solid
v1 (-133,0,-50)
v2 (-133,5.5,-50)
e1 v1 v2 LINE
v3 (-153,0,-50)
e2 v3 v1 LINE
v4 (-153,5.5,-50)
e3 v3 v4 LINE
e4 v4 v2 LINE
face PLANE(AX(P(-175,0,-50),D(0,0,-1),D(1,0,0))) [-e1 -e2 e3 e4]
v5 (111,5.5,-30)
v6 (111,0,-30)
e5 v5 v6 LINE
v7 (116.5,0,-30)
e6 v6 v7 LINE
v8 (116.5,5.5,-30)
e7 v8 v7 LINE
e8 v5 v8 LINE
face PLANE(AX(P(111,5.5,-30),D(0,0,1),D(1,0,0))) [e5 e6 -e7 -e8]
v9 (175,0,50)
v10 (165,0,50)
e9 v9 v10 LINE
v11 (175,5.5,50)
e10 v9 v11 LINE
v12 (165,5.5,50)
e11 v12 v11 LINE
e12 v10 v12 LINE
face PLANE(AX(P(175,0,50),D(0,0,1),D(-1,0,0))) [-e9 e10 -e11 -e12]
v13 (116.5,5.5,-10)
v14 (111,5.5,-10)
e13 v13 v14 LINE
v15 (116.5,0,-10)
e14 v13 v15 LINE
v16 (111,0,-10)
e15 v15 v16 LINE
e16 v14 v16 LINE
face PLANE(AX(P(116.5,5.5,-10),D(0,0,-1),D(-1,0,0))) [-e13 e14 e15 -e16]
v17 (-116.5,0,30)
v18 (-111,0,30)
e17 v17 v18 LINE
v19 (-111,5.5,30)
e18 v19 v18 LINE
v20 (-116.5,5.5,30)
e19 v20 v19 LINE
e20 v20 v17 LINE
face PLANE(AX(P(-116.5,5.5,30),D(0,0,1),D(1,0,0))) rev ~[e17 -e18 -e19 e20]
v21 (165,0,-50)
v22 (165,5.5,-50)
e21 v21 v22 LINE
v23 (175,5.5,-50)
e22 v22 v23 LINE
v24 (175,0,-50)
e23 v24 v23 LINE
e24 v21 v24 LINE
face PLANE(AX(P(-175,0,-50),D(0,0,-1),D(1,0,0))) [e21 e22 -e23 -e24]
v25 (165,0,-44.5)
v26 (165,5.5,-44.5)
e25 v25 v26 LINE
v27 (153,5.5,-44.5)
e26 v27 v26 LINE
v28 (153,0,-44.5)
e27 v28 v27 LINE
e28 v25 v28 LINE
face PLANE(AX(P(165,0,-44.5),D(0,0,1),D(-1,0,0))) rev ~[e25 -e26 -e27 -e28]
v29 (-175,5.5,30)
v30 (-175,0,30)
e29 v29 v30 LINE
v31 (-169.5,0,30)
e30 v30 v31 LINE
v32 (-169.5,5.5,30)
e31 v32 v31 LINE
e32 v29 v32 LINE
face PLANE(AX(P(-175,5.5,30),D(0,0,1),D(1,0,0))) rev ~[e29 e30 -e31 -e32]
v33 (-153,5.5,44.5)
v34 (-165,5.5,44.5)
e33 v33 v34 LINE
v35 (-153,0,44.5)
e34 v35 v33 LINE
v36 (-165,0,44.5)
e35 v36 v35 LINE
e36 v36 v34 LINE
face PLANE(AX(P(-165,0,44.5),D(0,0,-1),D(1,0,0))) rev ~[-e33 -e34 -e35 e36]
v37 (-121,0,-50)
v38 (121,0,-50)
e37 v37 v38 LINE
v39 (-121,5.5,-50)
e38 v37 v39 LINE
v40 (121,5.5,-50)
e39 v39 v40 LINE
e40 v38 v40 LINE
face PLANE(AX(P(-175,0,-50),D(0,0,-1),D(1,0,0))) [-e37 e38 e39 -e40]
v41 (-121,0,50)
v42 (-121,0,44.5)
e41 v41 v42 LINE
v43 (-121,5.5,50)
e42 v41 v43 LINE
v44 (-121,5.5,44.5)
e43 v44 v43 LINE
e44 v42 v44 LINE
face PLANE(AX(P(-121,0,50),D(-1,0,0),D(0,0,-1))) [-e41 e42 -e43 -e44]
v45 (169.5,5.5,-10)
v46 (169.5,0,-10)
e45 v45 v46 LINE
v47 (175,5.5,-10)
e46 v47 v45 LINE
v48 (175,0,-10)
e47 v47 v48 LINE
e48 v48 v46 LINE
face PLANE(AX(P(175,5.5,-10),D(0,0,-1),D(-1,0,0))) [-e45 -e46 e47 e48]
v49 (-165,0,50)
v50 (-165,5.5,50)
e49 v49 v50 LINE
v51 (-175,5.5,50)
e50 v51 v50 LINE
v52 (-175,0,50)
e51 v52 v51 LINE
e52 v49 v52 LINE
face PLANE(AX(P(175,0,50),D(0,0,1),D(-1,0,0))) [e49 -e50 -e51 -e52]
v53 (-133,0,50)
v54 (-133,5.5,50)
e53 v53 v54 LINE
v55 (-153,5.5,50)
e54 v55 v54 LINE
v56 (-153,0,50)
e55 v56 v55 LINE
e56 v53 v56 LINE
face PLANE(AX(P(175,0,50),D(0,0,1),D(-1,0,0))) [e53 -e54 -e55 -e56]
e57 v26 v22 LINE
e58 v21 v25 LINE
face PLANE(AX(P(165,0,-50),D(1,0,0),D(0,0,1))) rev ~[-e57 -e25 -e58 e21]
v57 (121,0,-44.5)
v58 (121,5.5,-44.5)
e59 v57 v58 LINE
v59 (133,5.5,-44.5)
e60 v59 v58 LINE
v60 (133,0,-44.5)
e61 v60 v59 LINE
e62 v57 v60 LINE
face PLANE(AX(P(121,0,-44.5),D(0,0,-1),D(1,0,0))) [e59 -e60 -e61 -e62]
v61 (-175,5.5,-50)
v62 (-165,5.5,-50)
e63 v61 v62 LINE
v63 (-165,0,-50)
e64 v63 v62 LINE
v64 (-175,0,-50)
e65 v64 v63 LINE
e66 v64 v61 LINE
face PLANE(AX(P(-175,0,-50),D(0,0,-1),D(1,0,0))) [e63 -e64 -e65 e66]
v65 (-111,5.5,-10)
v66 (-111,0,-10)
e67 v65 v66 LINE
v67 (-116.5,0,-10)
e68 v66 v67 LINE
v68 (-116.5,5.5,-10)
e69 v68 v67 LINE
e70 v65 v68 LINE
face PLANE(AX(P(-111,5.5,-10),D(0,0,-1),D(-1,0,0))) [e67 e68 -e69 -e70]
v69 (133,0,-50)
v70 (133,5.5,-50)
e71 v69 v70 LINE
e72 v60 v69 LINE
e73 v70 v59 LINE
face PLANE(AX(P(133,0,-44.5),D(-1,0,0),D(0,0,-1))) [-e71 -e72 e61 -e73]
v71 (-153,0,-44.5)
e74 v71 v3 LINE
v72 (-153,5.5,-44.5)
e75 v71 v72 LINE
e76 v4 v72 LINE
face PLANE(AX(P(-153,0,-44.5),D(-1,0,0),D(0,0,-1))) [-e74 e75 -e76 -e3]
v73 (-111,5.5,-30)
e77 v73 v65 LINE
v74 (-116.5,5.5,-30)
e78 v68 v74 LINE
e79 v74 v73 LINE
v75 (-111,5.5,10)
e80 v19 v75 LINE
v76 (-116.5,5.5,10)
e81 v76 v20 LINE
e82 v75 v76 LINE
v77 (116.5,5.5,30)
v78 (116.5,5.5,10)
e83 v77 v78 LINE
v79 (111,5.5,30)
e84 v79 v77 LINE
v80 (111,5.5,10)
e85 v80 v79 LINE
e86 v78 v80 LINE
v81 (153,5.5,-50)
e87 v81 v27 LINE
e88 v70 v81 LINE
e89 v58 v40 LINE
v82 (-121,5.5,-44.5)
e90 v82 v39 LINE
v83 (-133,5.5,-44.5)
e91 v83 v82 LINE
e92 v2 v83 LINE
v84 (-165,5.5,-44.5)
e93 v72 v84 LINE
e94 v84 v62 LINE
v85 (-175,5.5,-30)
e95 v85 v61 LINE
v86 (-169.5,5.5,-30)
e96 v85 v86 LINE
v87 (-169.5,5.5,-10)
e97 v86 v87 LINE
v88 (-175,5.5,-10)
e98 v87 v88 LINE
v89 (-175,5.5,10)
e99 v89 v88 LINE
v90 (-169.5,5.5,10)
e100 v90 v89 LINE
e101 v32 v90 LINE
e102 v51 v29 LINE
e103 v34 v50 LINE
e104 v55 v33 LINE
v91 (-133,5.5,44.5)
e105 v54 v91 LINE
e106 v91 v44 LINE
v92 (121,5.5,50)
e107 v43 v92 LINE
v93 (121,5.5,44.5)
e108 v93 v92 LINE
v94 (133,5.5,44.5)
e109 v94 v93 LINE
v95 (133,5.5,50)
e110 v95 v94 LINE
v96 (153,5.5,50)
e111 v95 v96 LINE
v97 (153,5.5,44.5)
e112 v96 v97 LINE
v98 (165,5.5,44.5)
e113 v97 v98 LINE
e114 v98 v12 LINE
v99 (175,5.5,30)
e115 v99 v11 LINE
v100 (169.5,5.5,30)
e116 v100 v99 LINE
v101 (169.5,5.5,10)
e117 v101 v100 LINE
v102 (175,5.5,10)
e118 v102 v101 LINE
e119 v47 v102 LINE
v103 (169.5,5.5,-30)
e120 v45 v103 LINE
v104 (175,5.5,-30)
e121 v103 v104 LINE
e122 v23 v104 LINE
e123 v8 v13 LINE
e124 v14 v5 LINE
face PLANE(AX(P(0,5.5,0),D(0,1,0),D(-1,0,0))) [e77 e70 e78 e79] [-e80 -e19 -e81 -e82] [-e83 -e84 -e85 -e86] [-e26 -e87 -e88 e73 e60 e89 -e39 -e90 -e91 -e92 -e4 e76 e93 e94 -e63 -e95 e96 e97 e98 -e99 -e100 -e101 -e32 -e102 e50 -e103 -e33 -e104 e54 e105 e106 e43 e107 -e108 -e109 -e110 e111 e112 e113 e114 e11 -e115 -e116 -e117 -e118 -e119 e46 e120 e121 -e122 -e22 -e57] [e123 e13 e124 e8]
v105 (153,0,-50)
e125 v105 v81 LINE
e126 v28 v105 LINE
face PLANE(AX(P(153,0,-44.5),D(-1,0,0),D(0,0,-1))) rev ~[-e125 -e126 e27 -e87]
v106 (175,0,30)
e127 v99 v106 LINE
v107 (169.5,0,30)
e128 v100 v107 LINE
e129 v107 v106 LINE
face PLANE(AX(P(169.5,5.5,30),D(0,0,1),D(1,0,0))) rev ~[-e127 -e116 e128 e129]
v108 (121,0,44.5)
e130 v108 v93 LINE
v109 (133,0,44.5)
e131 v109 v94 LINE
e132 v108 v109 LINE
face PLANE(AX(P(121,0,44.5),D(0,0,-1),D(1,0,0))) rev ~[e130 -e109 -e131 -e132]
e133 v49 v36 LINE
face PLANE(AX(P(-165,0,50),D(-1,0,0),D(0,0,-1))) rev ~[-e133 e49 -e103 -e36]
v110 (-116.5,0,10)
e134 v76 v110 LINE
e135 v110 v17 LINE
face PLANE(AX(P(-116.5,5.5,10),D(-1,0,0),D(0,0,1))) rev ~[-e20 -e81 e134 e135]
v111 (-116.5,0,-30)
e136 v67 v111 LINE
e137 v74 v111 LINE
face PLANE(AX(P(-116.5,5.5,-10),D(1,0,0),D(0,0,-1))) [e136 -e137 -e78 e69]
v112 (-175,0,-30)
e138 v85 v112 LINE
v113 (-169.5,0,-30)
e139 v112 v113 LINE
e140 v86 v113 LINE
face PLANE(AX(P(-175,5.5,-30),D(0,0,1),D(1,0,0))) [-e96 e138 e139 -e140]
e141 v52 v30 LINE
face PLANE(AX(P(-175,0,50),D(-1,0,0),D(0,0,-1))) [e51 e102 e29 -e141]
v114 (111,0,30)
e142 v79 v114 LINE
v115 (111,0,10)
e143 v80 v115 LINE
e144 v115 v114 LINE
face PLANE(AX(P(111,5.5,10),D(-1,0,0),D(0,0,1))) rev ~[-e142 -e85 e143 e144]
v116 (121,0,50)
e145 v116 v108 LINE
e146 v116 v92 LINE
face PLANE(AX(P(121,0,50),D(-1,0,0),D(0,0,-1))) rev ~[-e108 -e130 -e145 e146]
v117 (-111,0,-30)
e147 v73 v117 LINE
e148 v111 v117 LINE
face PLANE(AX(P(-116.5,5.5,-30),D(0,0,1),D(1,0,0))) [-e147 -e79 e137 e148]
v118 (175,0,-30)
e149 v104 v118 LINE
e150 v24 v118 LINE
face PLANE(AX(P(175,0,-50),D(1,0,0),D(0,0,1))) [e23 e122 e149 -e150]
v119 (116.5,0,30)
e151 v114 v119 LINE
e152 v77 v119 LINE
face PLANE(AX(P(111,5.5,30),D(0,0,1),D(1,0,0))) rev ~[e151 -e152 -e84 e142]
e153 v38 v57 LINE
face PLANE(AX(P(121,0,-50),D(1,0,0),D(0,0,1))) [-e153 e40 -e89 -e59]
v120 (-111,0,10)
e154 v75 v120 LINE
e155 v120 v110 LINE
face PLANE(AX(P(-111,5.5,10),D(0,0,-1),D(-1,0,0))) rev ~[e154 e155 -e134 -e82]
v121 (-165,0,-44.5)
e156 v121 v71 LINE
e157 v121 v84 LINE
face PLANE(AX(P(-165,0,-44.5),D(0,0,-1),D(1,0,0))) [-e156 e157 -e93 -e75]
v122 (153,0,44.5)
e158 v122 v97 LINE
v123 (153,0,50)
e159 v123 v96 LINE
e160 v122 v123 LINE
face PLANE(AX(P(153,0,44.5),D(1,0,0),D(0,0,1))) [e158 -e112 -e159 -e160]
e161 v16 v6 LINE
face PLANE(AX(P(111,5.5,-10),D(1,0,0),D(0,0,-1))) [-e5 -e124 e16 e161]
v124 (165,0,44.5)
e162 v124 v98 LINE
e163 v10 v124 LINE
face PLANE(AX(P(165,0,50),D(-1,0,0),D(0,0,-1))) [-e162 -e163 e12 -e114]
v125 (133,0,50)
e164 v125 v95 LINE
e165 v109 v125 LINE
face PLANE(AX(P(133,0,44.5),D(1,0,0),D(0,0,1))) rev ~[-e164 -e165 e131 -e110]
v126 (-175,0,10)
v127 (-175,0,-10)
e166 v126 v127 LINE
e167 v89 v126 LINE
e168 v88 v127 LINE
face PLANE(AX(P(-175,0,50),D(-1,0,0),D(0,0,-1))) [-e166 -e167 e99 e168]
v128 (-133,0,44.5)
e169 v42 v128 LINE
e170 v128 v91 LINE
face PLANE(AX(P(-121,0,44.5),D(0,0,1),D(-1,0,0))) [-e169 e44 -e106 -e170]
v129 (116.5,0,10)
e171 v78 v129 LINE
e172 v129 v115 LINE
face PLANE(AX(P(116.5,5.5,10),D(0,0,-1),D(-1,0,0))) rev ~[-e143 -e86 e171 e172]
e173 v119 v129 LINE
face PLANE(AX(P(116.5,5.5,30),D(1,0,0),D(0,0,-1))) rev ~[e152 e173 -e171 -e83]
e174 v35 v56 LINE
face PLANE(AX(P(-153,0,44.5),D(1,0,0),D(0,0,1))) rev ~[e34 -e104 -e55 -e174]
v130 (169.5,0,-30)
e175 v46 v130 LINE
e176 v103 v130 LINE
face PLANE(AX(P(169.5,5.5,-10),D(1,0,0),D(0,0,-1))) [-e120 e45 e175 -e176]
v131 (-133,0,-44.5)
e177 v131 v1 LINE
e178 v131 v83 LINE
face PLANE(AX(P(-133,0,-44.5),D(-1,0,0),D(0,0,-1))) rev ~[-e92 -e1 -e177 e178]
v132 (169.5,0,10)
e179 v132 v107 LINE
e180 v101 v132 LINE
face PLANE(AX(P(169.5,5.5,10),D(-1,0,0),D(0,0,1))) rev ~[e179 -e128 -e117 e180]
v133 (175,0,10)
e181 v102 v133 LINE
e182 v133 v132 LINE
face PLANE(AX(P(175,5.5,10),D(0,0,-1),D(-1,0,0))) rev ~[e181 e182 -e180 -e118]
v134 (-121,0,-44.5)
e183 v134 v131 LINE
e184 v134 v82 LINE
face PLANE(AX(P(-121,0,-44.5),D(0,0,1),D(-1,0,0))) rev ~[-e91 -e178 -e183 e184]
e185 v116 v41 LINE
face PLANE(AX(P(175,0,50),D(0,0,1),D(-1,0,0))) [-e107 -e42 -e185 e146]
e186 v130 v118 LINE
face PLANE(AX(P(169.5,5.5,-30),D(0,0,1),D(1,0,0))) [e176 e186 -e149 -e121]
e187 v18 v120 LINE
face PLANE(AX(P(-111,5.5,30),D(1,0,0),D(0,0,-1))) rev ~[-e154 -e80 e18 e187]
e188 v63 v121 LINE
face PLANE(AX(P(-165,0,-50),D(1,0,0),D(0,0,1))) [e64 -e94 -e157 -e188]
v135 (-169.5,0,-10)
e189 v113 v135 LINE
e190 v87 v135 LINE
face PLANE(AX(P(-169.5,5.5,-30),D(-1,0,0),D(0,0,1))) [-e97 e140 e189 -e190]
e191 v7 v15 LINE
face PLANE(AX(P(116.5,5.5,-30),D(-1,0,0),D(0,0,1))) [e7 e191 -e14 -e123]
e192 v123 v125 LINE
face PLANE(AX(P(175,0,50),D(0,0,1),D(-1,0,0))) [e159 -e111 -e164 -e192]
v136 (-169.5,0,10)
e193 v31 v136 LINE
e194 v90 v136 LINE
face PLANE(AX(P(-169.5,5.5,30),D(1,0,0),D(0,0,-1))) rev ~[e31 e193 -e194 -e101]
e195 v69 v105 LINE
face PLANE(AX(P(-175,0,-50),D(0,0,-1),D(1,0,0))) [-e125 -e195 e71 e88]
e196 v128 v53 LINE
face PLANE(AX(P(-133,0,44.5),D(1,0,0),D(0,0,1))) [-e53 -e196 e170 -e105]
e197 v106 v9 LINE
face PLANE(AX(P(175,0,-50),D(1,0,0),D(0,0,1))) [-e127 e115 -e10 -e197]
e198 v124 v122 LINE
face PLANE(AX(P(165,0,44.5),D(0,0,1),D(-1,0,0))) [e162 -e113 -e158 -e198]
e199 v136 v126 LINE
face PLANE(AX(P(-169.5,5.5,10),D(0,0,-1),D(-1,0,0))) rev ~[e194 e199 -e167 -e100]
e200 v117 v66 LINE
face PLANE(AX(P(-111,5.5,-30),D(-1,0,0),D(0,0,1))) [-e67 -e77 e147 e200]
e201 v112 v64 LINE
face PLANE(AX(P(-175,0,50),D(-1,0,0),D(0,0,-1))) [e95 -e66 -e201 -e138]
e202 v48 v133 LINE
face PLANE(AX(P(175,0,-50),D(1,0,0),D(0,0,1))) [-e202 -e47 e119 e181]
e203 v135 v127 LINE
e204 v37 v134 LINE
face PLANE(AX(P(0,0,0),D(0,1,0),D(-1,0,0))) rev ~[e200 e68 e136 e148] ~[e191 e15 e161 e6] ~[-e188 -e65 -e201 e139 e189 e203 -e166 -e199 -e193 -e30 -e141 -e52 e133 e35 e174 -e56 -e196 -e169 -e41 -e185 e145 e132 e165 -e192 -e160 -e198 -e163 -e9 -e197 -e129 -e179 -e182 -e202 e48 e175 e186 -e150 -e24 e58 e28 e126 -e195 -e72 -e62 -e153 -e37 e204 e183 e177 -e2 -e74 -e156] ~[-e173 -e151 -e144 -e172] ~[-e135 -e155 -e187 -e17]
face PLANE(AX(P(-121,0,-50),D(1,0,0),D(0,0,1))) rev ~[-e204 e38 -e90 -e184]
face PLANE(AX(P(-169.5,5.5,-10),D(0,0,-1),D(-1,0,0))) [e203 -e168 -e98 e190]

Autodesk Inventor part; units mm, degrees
ref_plane "YZ Plane" through (0, 0, 0) normal (1, 0, 0) x (0, 1, 0)
ref_plane "XZ Plane" through (0, 0, 0) normal (0, 1, 0) x (-1, 0, 0)
ref_plane "XY Plane" through (0, 0, 0) normal (0, 0, 1) x (1, 0, 0)
sketch "Block1" plane through (0, 0, 0) normal (0, 0, 1) x (1, 0, 0)
  line L0 (-117.6, 50.1) -> (117.6, 50.1)
  line L1 (117.6, 50.1) -> (117.6, 41.1)
  line L2 (117.6, 41.1) -> (129.4, 41.1)
  line L3 (129.4, 41.1) -> (129.4, 50.1)
  line L4 (129.4, 50.1) -> (149.6, 50.1)
  line L5 (149.6, 50.1) -> (149.6, 41.1)
  line L6 (149.6, 41.1) -> (161.4, 41.1)
  line L7 (161.4, 41.1) -> (161.4, 50.1)
  line L8 (161.4, 50.1) -> (175.1, 50.1)
  line L9 (175.1, 50.1) -> (175.1, 29.9)
  line L10 (175.1, 29.9) -> (166.1, 29.9)
  line L11 (166.1, 29.9) -> (166.1, 10.1)
  line L12 (166.1, 10.1) -> (175.1, 10.1)
  line L13 (175.1, 10.1) -> (175.1, -10.1)
  line L14 (175.1, -10.1) -> (166.1, -10.1)
  line L15 (166.1, -10.1) -> (166.1, -29.9)
  line L16 (166.1, -29.9) -> (175.1, -29.9)
  line L17 (175.1, -29.9) -> (175.1, -50.1)
  line L18 (175.1, -50.1) -> (161.4, -50.1)
  line L19 (161.4, -50.1) -> (161.4, -41.1)
  line L20 (161.4, -41.1) -> (149.6, -41.1)
  line L21 (149.6, -41.1) -> (149.6, -50.1)
  line L22 (149.6, -50.1) -> (129.4, -50.1)
  line L23 (129.4, -50.1) -> (129.4, -41.1)
  line L24 (129.4, -41.1) -> (117.6, -41.1)
  line L25 (117.6, -41.1) -> (117.6, -50.1)
  line L26 (117.6, -50.1) -> (-117.6, -50.1)
  line L27 (-117.6, -50.1) -> (-117.6, -41.1)
  line L28 (-117.6, -41.1) -> (-129.4, -41.1)
  line L29 (-129.4, -41.1) -> (-129.4, -50.1)
  line L30 (-129.4, -50.1) -> (-149.6, -50.1)
  line L31 (-149.6, -50.1) -> (-149.6, -41.1)
  line L32 (-149.6, -41.1) -> (-161.4, -41.1)
  line L33 (-161.4, -41.1) -> (-161.4, -50.1)
  line L34 (-161.4, -50.1) -> (-175.1, -50.1)
  line L35 (-175.1, -50.1) -> (-175.1, -29.9)
  line L36 (-175.1, -29.9) -> (-166.1, -29.9)
  line L37 (-166.1, -29.9) -> (-166.1, -10.1)
  line L38 (-166.1, -10.1) -> (-175.1, -10.1)
  line L39 (-175.1, -10.1) -> (-175.1, 10.1)
  line L40 (-175.1, 10.1) -> (-166.1, 10.1)
  line L41 (-166.1, 10.1) -> (-166.1, 29.9)
  line L42 (-166.1, 29.9) -> (-175.1, 29.9)
  line L43 (-175.1, 29.9) -> (-175.1, 50.1)
  line L44 (-175.1, 50.1) -> (-161.4, 50.1)
  line L45 (-161.4, 50.1) -> (-161.4, 41.1)
  line L46 (-161.4, 41.1) -> (-149.6, 41.1)
  line L47 (-149.6, 41.1) -> (-149.6, 50.1)
  line L48 (-149.6, 50.1) -> (-129.4, 50.1)
  line L49 (-129.4, 50.1) -> (-129.4, 41.1)
  line L50 (-129.4, 41.1) -> (-117.6, 41.1)
  line L51 (-117.6, 41.1) -> (-117.6, 50.1)
  line L52 (-103.9, 30.1) -> (-103.9, 9.9)
  line L53 (-103.9, 9.9) -> (-113.1, 9.9)
  line L54 (-113.1, 9.9) -> (-113.1, 30.1)
  line L55 (-113.1, 30.1) -> (-103.9, 30.1)
  line L56 (-103.9, -9.9) -> (-113.1, -9.9)
  line L57 (-113.1, -9.9) -> (-113.1, -30.1)
  line L58 (-113.1, -30.1) -> (-103.9, -30.1)
  line L59 (-103.9, -30.1) -> (-103.9, -9.9)
  line L60 (113.1, 30.1) -> (113.1, 9.9)
  line L61 (113.1, 9.9) -> (103.9, 9.9)
  line L62 (103.9, 9.9) -> (103.9, 30.1)
  line L63 (103.9, 30.1) -> (113.1, 30.1)
  line L64 (113.1, -9.9) -> (103.9, -9.9)
  line L65 (103.9, -9.9) -> (103.9, -30.1)
  line L66 (103.9, -30.1) -> (113.1, -30.1)
  line L67 (113.1, -30.1) -> (113.1, -9.9)
  point P0 (0, 0)
sketch "Block2" plane through (0, 0, 0) normal (0, 0, 1) x (1, 0, 0)
  line L0 (-117.7, 50.2) -> (117.7, 50.2)
  line L1 (117.7, 50.2) -> (117.7, 41.2)
  line L2 (117.7, 41.2) -> (129.3, 41.2)
  line L3 (129.3, 41.2) -> (129.3, 50.2)
  line L4 (129.3, 50.2) -> (149.7, 50.2)
  line L5 (149.7, 50.2) -> (149.7, 41.2)
  line L6 (149.7, 41.2) -> (161.3, 41.2)
  line L7 (161.3, 41.2) -> (161.3, 50.2)
  line L8 (161.3, 50.2) -> (175.2, 50.2)
  line L9 (175.2, 50.2) -> (175.2, 29.8)
  line L10 (175.2, 29.8) -> (166.2, 29.8)
  line L11 (166.2, 29.8) -> (166.2, 10.2)
  line L12 (166.2, 10.2) -> (175.2, 10.2)
  line L13 (175.2, 10.2) -> (175.2, -10.2)
  line L14 (175.2, -10.2) -> (166.2, -10.2)
  line L15 (166.2, -10.2) -> (166.2, -29.8)
  line L16 (166.2, -29.8) -> (175.2, -29.8)
  line L17 (175.2, -29.8) -> (175.2, -50.2)
  line L18 (175.2, -50.2) -> (161.3, -50.2)
  line L19 (161.3, -50.2) -> (161.3, -41.2)
  line L20 (161.3, -41.2) -> (149.7, -41.2)
  line L21 (149.7, -41.2) -> (149.7, -50.2)
  line L22 (149.7, -50.2) -> (129.3, -50.2)
  line L23 (129.3, -50.2) -> (129.3, -41.2)
  line L24 (129.3, -41.2) -> (117.7, -41.2)
  line L25 (117.7, -41.2) -> (117.7, -50.2)
  line L26 (117.7, -50.2) -> (-117.7, -50.2)
  line L27 (-117.7, -50.2) -> (-117.7, -41.2)
  line L28 (-117.7, -41.2) -> (-129.3, -41.2)
  line L29 (-129.3, -41.2) -> (-129.3, -50.2)
  line L30 (-129.3, -50.2) -> (-149.7, -50.2)
  line L31 (-149.7, -50.2) -> (-149.7, -41.2)
  line L32 (-149.7, -41.2) -> (-161.3, -41.2)
  line L33 (-161.3, -41.2) -> (-161.3, -50.2)
  line L34 (-161.3, -50.2) -> (-175.2, -50.2)
  line L35 (-175.2, -50.2) -> (-175.2, -29.8)
  line L36 (-175.2, -29.8) -> (-166.2, -29.8)
  line L37 (-166.2, -29.8) -> (-166.2, -10.2)
  line L38 (-166.2, -10.2) -> (-175.2, -10.2)
  line L39 (-175.2, -10.2) -> (-175.2, 10.2)
  line L40 (-175.2, 10.2) -> (-166.2, 10.2)
  line L41 (-166.2, 10.2) -> (-166.2, 29.8)
  line L42 (-166.2, 29.8) -> (-175.2, 29.8)
  line L43 (-175.2, 29.8) -> (-175.2, 50.2)
  line L44 (-175.2, 50.2) -> (-161.3, 50.2)
  line L45 (-161.3, 50.2) -> (-161.3, 41.2)
  line L46 (-161.3, 41.2) -> (-149.7, 41.2)
  line L47 (-149.7, 41.2) -> (-149.7, 50.2)
  line L48 (-149.7, 50.2) -> (-129.3, 50.2)
  line L49 (-129.3, 50.2) -> (-129.3, 41.2)
  line L50 (-129.3, 41.2) -> (-117.7, 41.2)
  line L51 (-117.7, 41.2) -> (-117.7, 50.2)
  line L52 (-103.8, 30.2) -> (-103.8, 9.8)
  line L53 (-103.8, 9.8) -> (-113.2, 9.8)
  line L54 (-113.2, 9.8) -> (-113.2, 30.2)
  line L55 (-113.2, 30.2) -> (-103.8, 30.2)
  line L56 (-103.8, -9.8) -> (-113.2, -9.8)
  line L57 (-113.2, -9.8) -> (-113.2, -30.2)
  line L58 (-113.2, -30.2) -> (-103.8, -30.2)
  line L59 (-103.8, -30.2) -> (-103.8, -9.8)
  line L60 (113.2, 30.2) -> (113.2, 9.8)
  line L61 (113.2, 9.8) -> (103.8, 9.8)
  line L62 (103.8, 9.8) -> (103.8, 30.2)
  line L63 (103.8, 30.2) -> (113.2, 30.2)
  line L64 (113.2, -9.8) -> (103.8, -9.8)
  line L65 (103.8, -9.8) -> (103.8, -30.2)
  line L66 (103.8, -30.2) -> (113.2, -30.2)
  line L67 (113.2, -30.2) -> (113.2, -9.8)
  point P0 (0, 0)
sketch "Block3" plane through (0, 0, 0) normal (0, 0, 1) x (1, 0, 0)
  line L0 (-117.6, 50.1) -> (117.6, 50.1)
  line L1 (117.6, 50.1) -> (117.6, 41.1)
  line L2 (117.6, 41.1) -> (129.4, 41.1)
  line L3 (129.4, 41.1) -> (129.4, 50.1)
  line L4 (129.4, 50.1) -> (149.6, 50.1)
  line L5 (149.6, 50.1) -> (149.6, 41.1)
  line L6 (149.6, 41.1) -> (161.4, 41.1)
  line L7 (161.4, 41.1) -> (161.4, 50.1)
  line L8 (161.4, 50.1) -> (175.1, 50.1)
  line L9 (175.1, 50.1) -> (175.1, 29.9)
  line L10 (175.1, 29.9) -> (166.1, 29.9)
  line L11 (166.1, 29.9) -> (166.1, 10.1)
  line L12 (166.1, 10.1) -> (175.1, 10.1)
  line L13 (175.1, 10.1) -> (175.1, -10.1)
  line L14 (175.1, -10.1) -> (166.1, -10.1)
  line L15 (166.1, -10.1) -> (166.1, -29.9)
  line L16 (166.1, -29.9) -> (175.1, -29.9)
  line L17 (175.1, -29.9) -> (175.1, -50.1)
  line L18 (175.1, -50.1) -> (161.4, -50.1)
  line L19 (161.4, -50.1) -> (161.4, -41.1)
  line L20 (161.4, -41.1) -> (149.6, -41.1)
  line L21 (149.6, -41.1) -> (149.6, -50.1)
  line L22 (149.6, -50.1) -> (129.4, -50.1)
  line L23 (129.4, -50.1) -> (129.4, -41.1)
  line L24 (129.4, -41.1) -> (117.6, -41.1)
  line L25 (117.6, -41.1) -> (117.6, -50.1)
  line L26 (117.6, -50.1) -> (-117.6, -50.1)
  line L27 (-117.6, -50.1) -> (-117.6, -41.1)
  line L28 (-117.6, -41.1) -> (-129.4, -41.1)
  line L29 (-129.4, -41.1) -> (-129.4, -50.1)
  line L30 (-129.4, -50.1) -> (-149.6, -50.1)
  line L31 (-149.6, -50.1) -> (-149.6, -41.1)
  line L32 (-149.6, -41.1) -> (-161.4, -41.1)
  line L33 (-161.4, -41.1) -> (-161.4, -50.1)
  line L34 (-161.4, -50.1) -> (-175.1, -50.1)
  line L35 (-175.1, -50.1) -> (-175.1, -29.9)
  line L36 (-175.1, -29.9) -> (-166.1, -29.9)
  line L37 (-166.1, -29.9) -> (-166.1, -10.1)
  line L38 (-166.1, -10.1) -> (-175.1, -10.1)
  line L39 (-175.1, -10.1) -> (-175.1, 10.1)
  line L40 (-175.1, 10.1) -> (-166.1, 10.1)
  line L41 (-166.1, 10.1) -> (-166.1, 29.9)
  line L42 (-166.1, 29.9) -> (-175.1, 29.9)
  line L43 (-175.1, 29.9) -> (-175.1, 50.1)
  line L44 (-175.1, 50.1) -> (-161.4, 50.1)
  line L45 (-161.4, 50.1) -> (-161.4, 41.1)
  line L46 (-161.4, 41.1) -> (-149.6, 41.1)
  line L47 (-149.6, 41.1) -> (-149.6, 50.1)
  line L48 (-149.6, 50.1) -> (-129.4, 50.1)
  line L49 (-129.4, 50.1) -> (-129.4, 41.1)
  line L50 (-129.4, 41.1) -> (-117.6, 41.1)
  line L51 (-117.6, 41.1) -> (-117.6, 50.1)
  line L52 (-103.9, 30.1) -> (-103.9, 9.9)
  line L53 (-103.9, 9.9) -> (-113.1, 9.9)
  line L54 (-113.1, 9.9) -> (-113.1, 30.1)
  line L55 (-113.1, 30.1) -> (-103.9, 30.1)
  line L56 (-103.9, -9.9) -> (-113.1, -9.9)
  line L57 (-113.1, -9.9) -> (-113.1, -30.1)
  line L58 (-113.1, -30.1) -> (-103.9, -30.1)
  line L59 (-103.9, -30.1) -> (-103.9, -9.9)
  line L60 (113.1, 30.1) -> (113.1, 9.9)
  line L61 (113.1, 9.9) -> (103.9, 9.9)
  line L62 (103.9, 9.9) -> (103.9, 30.1)
  line L63 (103.9, 30.1) -> (113.1, 30.1)
  line L64 (113.1, -9.9) -> (103.9, -9.9)
  line L65 (103.9, -9.9) -> (103.9, -30.1)
  line L66 (103.9, -30.1) -> (113.1, -30.1)
  line L67 (113.1, -30.1) -> (113.1, -9.9)
  point P0 (0, 0)
sketch "Block4" plane through (0, 0, 0) normal (0, 0, 1) x (1, 0, 0)
  line L0 (-121.08, 50.08) -> (121.08, 50.08)
  line L1 (121.08, 50.08) -> (121.08, 44.58)
  line L2 (121.08, 44.58) -> (132.92, 44.58)
  line L3 (132.92, 44.58) -> (132.92, 50.08)
  line L4 (132.92, 50.08) -> (153.08, 50.08)
  line L5 (153.08, 50.08) -> (153.08, 44.58)
  line L6 (153.08, 44.58) -> (164.92, 44.58)
  line L7 (164.92, 44.58) -> (164.92, 50.08)
  line L8 (164.92, 50.08) -> (175.08, 50.08)
  line L9 (175.08, 50.08) -> (175.08, 29.92)
  line L10 (175.08, 29.92) -> (169.58, 29.92)
  line L11 (169.58, 29.92) -> (169.58, 10.08)
  line L12 (169.58, 10.08) -> (175.08, 10.08)
  line L13 (175.08, 10.08) -> (175.08, -10.08)
  line L14 (175.08, -10.08) -> (169.58, -10.08)
  line L15 (169.58, -10.08) -> (169.58, -29.92)
  line L16 (169.58, -29.92) -> (175.08, -29.92)
  line L17 (175.08, -29.92) -> (175.08, -50.08)
  line L18 (175.08, -50.08) -> (164.92, -50.08)
  line L19 (164.92, -50.08) -> (164.92, -44.58)
  line L20 (164.92, -44.58) -> (153.08, -44.58)
  line L21 (153.08, -44.58) -> (153.08, -50.08)
  line L22 (153.08, -50.08) -> (132.92, -50.08)
  line L23 (132.92, -50.08) -> (132.92, -44.58)
  line L24 (132.92, -44.58) -> (121.08, -44.58)
  line L25 (121.08, -44.58) -> (121.08, -50.08)
  line L26 (121.08, -50.08) -> (-121.08, -50.08)
  line L27 (-121.08, -50.08) -> (-121.08, -44.58)
  line L28 (-121.08, -44.58) -> (-132.92, -44.58)
  line L29 (-132.92, -44.58) -> (-132.92, -50.08)
  line L30 (-132.92, -50.08) -> (-153.08, -50.08)
  line L31 (-153.08, -50.08) -> (-153.08, -44.58)
  line L32 (-153.08, -44.58) -> (-164.92, -44.58)
  line L33 (-164.92, -44.58) -> (-164.92, -50.08)
  line L34 (-164.92, -50.08) -> (-175.08, -50.08)
  line L35 (-175.08, -50.08) -> (-175.08, -29.92)
  line L36 (-175.08, -29.92) -> (-169.58, -29.92)
  line L37 (-169.58, -29.92) -> (-169.58, -10.08)
  line L38 (-169.58, -10.08) -> (-175.08, -10.08)
  line L39 (-175.08, -10.08) -> (-175.08, 10.08)
  line L40 (-175.08, 10.08) -> (-169.58, 10.08)
  line L41 (-169.58, 10.08) -> (-169.58, 29.92)
  line L42 (-169.58, 29.92) -> (-175.08, 29.92)
  line L43 (-175.08, 29.92) -> (-175.08, 50.08)
  line L44 (-175.08, 50.08) -> (-164.92, 50.08)
  line L45 (-164.92, 50.08) -> (-164.92, 44.58)
  line L46 (-164.92, 44.58) -> (-153.08, 44.58)
  line L47 (-153.08, 44.58) -> (-153.08, 50.08)
  line L48 (-153.08, 50.08) -> (-132.92, 50.08)
  line L49 (-132.92, 50.08) -> (-132.92, 44.58)
  line L50 (-132.92, 44.58) -> (-121.08, 44.58)
  line L51 (-121.08, 44.58) -> (-121.08, 50.08)
  line L52 (-110.92, 30.08) -> (-110.92, 9.92)
  line L53 (-110.92, 9.92) -> (-116.58, 9.92)
  line L54 (-116.58, 9.92) -> (-116.58, 30.08)
  line L55 (-116.58, 30.08) -> (-110.92, 30.08)
  line L56 (-110.92, -9.92) -> (-116.58, -9.92)
  line L57 (-116.58, -9.92) -> (-116.58, -30.08)
  line L58 (-116.58, -30.08) -> (-110.92, -30.08)
  line L59 (-110.92, -30.08) -> (-110.92, -9.92)
  line L60 (116.58, 30.08) -> (116.58, 9.92)
  line L61 (116.58, 9.92) -> (110.92, 9.92)
  line L62 (110.92, 9.92) -> (110.92, 30.08)
  line L63 (110.92, 30.08) -> (116.58, 30.08)
  line L64 (116.58, -9.92) -> (110.92, -9.92)
  line L65 (110.92, -9.92) -> (110.92, -30.08)
  line L66 (110.92, -30.08) -> (116.58, -30.08)
  line L67 (116.58, -30.08) -> (116.58, -9.92)
  point P0 (0, 0)
sketch "Sketch1" plane through (0, 0, 0) normal (0, 1, 0) x (-1, 0, 0)
  line L0 (175, -50) -> (-175, -50)
  line L1 (-175, -50) -> (-175, 50)
  line L2 (-175, 50) -> (175, 50)
  line L3 (175, 50) -> (175, -50)
  line L4 (175, -50) -> (-175, 50) construction
  line L5 (-175, -50) -> (175, 50) construction
  line L6 (0, 0) -> (0, 75.8521)
  dimension "d0" = 350
  dimension "d1" = 100
extrude "Extrusion1" add sketch "Sketch1" along normal blind 5.5
sketch "Sketch6" plane through (0, 5.5, 0) normal (0, 1, 0) x (1, 0, 0)
  line L0 (175, 50) -> (-175, 50) projected
  line L1 (-175, 50) -> (-175, -50) projected
  line L2 (175, -50) -> (175, 50) projected
  line L3 (-116.5, 30) -> (-111, 30)
  line L4 (-111, 30) -> (-111, 10)
  line L5 (-111, 10) -> (-116.5, 10)
  line L6 (-116.5, 10) -> (-116.5, 30)
  line L7 (-175, 30) -> (-169.5, 30)
  line L8 (-169.5, 30) -> (-169.5, 10)
  line L9 (-169.5, 10) -> (-175, 10)
  line L10 (-175, 10) -> (-175, 30)
  line L11 (111, 30) -> (116.5, 30)
  line L12 (116.5, 30) -> (116.5, 10)
  line L13 (116.5, 10) -> (111, 10)
  line L14 (111, 10) -> (111, 30)
  line L15 (169.5, 30) -> (175, 30)
  line L16 (175, 30) -> (175, 10)
  line L17 (175, 10) -> (169.5, 10)
  line L18 (169.5, 10) -> (169.5, 30)
  line L19 (-321.0918, 0) -> (700.8506, 0) projected
  line L20 (0, 73.9124) -> (0, -70.7687) projected
  line L21 (-116.5, -30) -> (-111, -30)
  line L22 (-111, -30) -> (-111, -10)
  line L23 (-111, -10) -> (-116.5, -10)
  line L24 (-116.5, -10) -> (-116.5, -30)
  line L25 (-175, -30) -> (-169.5, -30)
  line L26 (-169.5, -30) -> (-169.5, -10)
  line L27 (-169.5, -10) -> (-175, -10)
  line L28 (-175, -10) -> (-175, -30)
  line L29 (111, -30) -> (116.5, -30)
  line L30 (116.5, -30) -> (116.5, -10)
  line L31 (116.5, -10) -> (111, -10)
  line L32 (111, -10) -> (111, -30)
  line L33 (169.5, -30) -> (175, -30)
  line L34 (175, -30) -> (175, -10)
  line L35 (175, -10) -> (169.5, -10)
  line L36 (169.5, -10) -> (169.5, -30)
  point P0 (0, 0)
  dimension "d31" = 20
  dimension "d32" = 20
  dimension "d33" = 20
  dimension "d34" = 20
  dimension "d35" = 20
  dimension "d36" = 20
  dimension "d37" = 20
  dimension "d38" = 20
  dimension "d39" = 5.5
  dimension "d40" = 5.5
  dimension "d41" = 5.5
  dimension "d42" = 5.5
  dimension "d43" = 53
  dimension "d44" = 53
extrude "Extrusion2" cut sketch "Sketch6" against normal through all contours L2 L33 L36 L35 | L27 L26 L25 L1 | L2 L17 L18 L15 | L7 L8 L9 L1 | L3 L4 L5 L6 | L11 L12 L13 L14 | L24 L23 L22 L21 | L32 L31 L30 L29
sketch "Sketch8" plane through (0, 0, 0) normal (0, -1, 0) x (1, 0, 0)
  line L0 (-175, -50) -> (175, -50) projected
  line L1 (111, 30) -> (116.5, 30) projected
  line L2 (-175, 59.2811) -> (-175, -60.1862)
  line L3 (-111, 61.9963) -> (-111, -60.1862)
  line L4 (-143, 61.9963) -> (-143, -69.2367)
  line L5 (-321.0918, 0) -> (700.8506, 0) projected
  line L6 (-153, -50) -> (-165, -50)
  line L7 (-165, -50) -> (-165, -44.5)
  line L8 (-165, -44.5) -> (-153, -44.5)
  line L9 (-153, -44.5) -> (-153, -50)
  line L10 (-133, -50) -> (-121, -50)
  line L11 (-121, -50) -> (-121, -44.5)
  line L12 (-121, -44.5) -> (-133, -44.5)
  line L13 (-133, -44.5) -> (-133, -50)
  line L14 (-153, 50) -> (-165, 50)
  line L15 (-165, 50) -> (-165, 44.5)
  line L16 (-165, 44.5) -> (-153, 44.5)
  line L17 (-153, 44.5) -> (-153, 50)
  line L18 (-121, 44.5) -> (-133, 44.5)
  line L19 (-133, 44.5) -> (-133, 50)
  line L20 (-121, 50) -> (-121, 44.5)
  line L21 (-133, 50) -> (-121, 50)
  line L22 (175, -10) -> (175, 10) projected
  line L23 (0, 69.8052) -> (0, -77.7744)
  line L24 (153, -50) -> (165, -50)
  line L25 (165, -50) -> (165, -44.5)
  line L26 (165, -44.5) -> (153, -44.5)
  line L27 (153, -44.5) -> (153, -50)
  line L28 (121, -44.5) -> (133, -44.5)
  line L29 (133, -44.5) -> (133, -50)
  line L30 (121, -50) -> (121, -44.5)
  line L31 (133, -50) -> (121, -50)
  line L32 (121, 50) -> (121, 44.5)
  line L33 (121, 44.5) -> (133, 44.5)
  line L34 (133, 50) -> (121, 50)
  line L35 (133, 44.5) -> (133, 50)
  line L36 (153, 44.5) -> (153, 50)
  line L37 (165, 44.5) -> (153, 44.5)
  line L38 (153, 50) -> (165, 50)
  line L39 (165, 50) -> (165, 44.5)
  line L40 (-175, 50) -> (-175, 30) projected
  point P0 (117.5, -50)
  point P1 (0, 0)
  dimension "d54" = 12
  dimension "d55" = 20
  dimension "d58" = 5.5
  dimension "d61" = 64
extrude "Extrusion5" cut sketch "Sketch8" against normal through all contours L27 L26 L25 L0 | L30 L28 L29 L0 | L7 L8 L9 L0 | L13 L12 L11 L0 | L17 L16 L15 L14 | L18 L19 L21 L20 | L34 L35 L33 L32 | L36 L38 L39 L37
equation "\"d0\" = Base_length"
equation "\"d2\" = Wt"
equation "\"d39\" = Wt"
equation "\"d40\" = Wt"
equation "\"d41\" = Wt"
equation "\"d42\" = Wt"
equation "\"d58\" = Wt"
equation "\"Base_length\" = 350"
equation "\"Wt\" = 5.5"
properties part number "baseboard" material "Wood (Birch)"
